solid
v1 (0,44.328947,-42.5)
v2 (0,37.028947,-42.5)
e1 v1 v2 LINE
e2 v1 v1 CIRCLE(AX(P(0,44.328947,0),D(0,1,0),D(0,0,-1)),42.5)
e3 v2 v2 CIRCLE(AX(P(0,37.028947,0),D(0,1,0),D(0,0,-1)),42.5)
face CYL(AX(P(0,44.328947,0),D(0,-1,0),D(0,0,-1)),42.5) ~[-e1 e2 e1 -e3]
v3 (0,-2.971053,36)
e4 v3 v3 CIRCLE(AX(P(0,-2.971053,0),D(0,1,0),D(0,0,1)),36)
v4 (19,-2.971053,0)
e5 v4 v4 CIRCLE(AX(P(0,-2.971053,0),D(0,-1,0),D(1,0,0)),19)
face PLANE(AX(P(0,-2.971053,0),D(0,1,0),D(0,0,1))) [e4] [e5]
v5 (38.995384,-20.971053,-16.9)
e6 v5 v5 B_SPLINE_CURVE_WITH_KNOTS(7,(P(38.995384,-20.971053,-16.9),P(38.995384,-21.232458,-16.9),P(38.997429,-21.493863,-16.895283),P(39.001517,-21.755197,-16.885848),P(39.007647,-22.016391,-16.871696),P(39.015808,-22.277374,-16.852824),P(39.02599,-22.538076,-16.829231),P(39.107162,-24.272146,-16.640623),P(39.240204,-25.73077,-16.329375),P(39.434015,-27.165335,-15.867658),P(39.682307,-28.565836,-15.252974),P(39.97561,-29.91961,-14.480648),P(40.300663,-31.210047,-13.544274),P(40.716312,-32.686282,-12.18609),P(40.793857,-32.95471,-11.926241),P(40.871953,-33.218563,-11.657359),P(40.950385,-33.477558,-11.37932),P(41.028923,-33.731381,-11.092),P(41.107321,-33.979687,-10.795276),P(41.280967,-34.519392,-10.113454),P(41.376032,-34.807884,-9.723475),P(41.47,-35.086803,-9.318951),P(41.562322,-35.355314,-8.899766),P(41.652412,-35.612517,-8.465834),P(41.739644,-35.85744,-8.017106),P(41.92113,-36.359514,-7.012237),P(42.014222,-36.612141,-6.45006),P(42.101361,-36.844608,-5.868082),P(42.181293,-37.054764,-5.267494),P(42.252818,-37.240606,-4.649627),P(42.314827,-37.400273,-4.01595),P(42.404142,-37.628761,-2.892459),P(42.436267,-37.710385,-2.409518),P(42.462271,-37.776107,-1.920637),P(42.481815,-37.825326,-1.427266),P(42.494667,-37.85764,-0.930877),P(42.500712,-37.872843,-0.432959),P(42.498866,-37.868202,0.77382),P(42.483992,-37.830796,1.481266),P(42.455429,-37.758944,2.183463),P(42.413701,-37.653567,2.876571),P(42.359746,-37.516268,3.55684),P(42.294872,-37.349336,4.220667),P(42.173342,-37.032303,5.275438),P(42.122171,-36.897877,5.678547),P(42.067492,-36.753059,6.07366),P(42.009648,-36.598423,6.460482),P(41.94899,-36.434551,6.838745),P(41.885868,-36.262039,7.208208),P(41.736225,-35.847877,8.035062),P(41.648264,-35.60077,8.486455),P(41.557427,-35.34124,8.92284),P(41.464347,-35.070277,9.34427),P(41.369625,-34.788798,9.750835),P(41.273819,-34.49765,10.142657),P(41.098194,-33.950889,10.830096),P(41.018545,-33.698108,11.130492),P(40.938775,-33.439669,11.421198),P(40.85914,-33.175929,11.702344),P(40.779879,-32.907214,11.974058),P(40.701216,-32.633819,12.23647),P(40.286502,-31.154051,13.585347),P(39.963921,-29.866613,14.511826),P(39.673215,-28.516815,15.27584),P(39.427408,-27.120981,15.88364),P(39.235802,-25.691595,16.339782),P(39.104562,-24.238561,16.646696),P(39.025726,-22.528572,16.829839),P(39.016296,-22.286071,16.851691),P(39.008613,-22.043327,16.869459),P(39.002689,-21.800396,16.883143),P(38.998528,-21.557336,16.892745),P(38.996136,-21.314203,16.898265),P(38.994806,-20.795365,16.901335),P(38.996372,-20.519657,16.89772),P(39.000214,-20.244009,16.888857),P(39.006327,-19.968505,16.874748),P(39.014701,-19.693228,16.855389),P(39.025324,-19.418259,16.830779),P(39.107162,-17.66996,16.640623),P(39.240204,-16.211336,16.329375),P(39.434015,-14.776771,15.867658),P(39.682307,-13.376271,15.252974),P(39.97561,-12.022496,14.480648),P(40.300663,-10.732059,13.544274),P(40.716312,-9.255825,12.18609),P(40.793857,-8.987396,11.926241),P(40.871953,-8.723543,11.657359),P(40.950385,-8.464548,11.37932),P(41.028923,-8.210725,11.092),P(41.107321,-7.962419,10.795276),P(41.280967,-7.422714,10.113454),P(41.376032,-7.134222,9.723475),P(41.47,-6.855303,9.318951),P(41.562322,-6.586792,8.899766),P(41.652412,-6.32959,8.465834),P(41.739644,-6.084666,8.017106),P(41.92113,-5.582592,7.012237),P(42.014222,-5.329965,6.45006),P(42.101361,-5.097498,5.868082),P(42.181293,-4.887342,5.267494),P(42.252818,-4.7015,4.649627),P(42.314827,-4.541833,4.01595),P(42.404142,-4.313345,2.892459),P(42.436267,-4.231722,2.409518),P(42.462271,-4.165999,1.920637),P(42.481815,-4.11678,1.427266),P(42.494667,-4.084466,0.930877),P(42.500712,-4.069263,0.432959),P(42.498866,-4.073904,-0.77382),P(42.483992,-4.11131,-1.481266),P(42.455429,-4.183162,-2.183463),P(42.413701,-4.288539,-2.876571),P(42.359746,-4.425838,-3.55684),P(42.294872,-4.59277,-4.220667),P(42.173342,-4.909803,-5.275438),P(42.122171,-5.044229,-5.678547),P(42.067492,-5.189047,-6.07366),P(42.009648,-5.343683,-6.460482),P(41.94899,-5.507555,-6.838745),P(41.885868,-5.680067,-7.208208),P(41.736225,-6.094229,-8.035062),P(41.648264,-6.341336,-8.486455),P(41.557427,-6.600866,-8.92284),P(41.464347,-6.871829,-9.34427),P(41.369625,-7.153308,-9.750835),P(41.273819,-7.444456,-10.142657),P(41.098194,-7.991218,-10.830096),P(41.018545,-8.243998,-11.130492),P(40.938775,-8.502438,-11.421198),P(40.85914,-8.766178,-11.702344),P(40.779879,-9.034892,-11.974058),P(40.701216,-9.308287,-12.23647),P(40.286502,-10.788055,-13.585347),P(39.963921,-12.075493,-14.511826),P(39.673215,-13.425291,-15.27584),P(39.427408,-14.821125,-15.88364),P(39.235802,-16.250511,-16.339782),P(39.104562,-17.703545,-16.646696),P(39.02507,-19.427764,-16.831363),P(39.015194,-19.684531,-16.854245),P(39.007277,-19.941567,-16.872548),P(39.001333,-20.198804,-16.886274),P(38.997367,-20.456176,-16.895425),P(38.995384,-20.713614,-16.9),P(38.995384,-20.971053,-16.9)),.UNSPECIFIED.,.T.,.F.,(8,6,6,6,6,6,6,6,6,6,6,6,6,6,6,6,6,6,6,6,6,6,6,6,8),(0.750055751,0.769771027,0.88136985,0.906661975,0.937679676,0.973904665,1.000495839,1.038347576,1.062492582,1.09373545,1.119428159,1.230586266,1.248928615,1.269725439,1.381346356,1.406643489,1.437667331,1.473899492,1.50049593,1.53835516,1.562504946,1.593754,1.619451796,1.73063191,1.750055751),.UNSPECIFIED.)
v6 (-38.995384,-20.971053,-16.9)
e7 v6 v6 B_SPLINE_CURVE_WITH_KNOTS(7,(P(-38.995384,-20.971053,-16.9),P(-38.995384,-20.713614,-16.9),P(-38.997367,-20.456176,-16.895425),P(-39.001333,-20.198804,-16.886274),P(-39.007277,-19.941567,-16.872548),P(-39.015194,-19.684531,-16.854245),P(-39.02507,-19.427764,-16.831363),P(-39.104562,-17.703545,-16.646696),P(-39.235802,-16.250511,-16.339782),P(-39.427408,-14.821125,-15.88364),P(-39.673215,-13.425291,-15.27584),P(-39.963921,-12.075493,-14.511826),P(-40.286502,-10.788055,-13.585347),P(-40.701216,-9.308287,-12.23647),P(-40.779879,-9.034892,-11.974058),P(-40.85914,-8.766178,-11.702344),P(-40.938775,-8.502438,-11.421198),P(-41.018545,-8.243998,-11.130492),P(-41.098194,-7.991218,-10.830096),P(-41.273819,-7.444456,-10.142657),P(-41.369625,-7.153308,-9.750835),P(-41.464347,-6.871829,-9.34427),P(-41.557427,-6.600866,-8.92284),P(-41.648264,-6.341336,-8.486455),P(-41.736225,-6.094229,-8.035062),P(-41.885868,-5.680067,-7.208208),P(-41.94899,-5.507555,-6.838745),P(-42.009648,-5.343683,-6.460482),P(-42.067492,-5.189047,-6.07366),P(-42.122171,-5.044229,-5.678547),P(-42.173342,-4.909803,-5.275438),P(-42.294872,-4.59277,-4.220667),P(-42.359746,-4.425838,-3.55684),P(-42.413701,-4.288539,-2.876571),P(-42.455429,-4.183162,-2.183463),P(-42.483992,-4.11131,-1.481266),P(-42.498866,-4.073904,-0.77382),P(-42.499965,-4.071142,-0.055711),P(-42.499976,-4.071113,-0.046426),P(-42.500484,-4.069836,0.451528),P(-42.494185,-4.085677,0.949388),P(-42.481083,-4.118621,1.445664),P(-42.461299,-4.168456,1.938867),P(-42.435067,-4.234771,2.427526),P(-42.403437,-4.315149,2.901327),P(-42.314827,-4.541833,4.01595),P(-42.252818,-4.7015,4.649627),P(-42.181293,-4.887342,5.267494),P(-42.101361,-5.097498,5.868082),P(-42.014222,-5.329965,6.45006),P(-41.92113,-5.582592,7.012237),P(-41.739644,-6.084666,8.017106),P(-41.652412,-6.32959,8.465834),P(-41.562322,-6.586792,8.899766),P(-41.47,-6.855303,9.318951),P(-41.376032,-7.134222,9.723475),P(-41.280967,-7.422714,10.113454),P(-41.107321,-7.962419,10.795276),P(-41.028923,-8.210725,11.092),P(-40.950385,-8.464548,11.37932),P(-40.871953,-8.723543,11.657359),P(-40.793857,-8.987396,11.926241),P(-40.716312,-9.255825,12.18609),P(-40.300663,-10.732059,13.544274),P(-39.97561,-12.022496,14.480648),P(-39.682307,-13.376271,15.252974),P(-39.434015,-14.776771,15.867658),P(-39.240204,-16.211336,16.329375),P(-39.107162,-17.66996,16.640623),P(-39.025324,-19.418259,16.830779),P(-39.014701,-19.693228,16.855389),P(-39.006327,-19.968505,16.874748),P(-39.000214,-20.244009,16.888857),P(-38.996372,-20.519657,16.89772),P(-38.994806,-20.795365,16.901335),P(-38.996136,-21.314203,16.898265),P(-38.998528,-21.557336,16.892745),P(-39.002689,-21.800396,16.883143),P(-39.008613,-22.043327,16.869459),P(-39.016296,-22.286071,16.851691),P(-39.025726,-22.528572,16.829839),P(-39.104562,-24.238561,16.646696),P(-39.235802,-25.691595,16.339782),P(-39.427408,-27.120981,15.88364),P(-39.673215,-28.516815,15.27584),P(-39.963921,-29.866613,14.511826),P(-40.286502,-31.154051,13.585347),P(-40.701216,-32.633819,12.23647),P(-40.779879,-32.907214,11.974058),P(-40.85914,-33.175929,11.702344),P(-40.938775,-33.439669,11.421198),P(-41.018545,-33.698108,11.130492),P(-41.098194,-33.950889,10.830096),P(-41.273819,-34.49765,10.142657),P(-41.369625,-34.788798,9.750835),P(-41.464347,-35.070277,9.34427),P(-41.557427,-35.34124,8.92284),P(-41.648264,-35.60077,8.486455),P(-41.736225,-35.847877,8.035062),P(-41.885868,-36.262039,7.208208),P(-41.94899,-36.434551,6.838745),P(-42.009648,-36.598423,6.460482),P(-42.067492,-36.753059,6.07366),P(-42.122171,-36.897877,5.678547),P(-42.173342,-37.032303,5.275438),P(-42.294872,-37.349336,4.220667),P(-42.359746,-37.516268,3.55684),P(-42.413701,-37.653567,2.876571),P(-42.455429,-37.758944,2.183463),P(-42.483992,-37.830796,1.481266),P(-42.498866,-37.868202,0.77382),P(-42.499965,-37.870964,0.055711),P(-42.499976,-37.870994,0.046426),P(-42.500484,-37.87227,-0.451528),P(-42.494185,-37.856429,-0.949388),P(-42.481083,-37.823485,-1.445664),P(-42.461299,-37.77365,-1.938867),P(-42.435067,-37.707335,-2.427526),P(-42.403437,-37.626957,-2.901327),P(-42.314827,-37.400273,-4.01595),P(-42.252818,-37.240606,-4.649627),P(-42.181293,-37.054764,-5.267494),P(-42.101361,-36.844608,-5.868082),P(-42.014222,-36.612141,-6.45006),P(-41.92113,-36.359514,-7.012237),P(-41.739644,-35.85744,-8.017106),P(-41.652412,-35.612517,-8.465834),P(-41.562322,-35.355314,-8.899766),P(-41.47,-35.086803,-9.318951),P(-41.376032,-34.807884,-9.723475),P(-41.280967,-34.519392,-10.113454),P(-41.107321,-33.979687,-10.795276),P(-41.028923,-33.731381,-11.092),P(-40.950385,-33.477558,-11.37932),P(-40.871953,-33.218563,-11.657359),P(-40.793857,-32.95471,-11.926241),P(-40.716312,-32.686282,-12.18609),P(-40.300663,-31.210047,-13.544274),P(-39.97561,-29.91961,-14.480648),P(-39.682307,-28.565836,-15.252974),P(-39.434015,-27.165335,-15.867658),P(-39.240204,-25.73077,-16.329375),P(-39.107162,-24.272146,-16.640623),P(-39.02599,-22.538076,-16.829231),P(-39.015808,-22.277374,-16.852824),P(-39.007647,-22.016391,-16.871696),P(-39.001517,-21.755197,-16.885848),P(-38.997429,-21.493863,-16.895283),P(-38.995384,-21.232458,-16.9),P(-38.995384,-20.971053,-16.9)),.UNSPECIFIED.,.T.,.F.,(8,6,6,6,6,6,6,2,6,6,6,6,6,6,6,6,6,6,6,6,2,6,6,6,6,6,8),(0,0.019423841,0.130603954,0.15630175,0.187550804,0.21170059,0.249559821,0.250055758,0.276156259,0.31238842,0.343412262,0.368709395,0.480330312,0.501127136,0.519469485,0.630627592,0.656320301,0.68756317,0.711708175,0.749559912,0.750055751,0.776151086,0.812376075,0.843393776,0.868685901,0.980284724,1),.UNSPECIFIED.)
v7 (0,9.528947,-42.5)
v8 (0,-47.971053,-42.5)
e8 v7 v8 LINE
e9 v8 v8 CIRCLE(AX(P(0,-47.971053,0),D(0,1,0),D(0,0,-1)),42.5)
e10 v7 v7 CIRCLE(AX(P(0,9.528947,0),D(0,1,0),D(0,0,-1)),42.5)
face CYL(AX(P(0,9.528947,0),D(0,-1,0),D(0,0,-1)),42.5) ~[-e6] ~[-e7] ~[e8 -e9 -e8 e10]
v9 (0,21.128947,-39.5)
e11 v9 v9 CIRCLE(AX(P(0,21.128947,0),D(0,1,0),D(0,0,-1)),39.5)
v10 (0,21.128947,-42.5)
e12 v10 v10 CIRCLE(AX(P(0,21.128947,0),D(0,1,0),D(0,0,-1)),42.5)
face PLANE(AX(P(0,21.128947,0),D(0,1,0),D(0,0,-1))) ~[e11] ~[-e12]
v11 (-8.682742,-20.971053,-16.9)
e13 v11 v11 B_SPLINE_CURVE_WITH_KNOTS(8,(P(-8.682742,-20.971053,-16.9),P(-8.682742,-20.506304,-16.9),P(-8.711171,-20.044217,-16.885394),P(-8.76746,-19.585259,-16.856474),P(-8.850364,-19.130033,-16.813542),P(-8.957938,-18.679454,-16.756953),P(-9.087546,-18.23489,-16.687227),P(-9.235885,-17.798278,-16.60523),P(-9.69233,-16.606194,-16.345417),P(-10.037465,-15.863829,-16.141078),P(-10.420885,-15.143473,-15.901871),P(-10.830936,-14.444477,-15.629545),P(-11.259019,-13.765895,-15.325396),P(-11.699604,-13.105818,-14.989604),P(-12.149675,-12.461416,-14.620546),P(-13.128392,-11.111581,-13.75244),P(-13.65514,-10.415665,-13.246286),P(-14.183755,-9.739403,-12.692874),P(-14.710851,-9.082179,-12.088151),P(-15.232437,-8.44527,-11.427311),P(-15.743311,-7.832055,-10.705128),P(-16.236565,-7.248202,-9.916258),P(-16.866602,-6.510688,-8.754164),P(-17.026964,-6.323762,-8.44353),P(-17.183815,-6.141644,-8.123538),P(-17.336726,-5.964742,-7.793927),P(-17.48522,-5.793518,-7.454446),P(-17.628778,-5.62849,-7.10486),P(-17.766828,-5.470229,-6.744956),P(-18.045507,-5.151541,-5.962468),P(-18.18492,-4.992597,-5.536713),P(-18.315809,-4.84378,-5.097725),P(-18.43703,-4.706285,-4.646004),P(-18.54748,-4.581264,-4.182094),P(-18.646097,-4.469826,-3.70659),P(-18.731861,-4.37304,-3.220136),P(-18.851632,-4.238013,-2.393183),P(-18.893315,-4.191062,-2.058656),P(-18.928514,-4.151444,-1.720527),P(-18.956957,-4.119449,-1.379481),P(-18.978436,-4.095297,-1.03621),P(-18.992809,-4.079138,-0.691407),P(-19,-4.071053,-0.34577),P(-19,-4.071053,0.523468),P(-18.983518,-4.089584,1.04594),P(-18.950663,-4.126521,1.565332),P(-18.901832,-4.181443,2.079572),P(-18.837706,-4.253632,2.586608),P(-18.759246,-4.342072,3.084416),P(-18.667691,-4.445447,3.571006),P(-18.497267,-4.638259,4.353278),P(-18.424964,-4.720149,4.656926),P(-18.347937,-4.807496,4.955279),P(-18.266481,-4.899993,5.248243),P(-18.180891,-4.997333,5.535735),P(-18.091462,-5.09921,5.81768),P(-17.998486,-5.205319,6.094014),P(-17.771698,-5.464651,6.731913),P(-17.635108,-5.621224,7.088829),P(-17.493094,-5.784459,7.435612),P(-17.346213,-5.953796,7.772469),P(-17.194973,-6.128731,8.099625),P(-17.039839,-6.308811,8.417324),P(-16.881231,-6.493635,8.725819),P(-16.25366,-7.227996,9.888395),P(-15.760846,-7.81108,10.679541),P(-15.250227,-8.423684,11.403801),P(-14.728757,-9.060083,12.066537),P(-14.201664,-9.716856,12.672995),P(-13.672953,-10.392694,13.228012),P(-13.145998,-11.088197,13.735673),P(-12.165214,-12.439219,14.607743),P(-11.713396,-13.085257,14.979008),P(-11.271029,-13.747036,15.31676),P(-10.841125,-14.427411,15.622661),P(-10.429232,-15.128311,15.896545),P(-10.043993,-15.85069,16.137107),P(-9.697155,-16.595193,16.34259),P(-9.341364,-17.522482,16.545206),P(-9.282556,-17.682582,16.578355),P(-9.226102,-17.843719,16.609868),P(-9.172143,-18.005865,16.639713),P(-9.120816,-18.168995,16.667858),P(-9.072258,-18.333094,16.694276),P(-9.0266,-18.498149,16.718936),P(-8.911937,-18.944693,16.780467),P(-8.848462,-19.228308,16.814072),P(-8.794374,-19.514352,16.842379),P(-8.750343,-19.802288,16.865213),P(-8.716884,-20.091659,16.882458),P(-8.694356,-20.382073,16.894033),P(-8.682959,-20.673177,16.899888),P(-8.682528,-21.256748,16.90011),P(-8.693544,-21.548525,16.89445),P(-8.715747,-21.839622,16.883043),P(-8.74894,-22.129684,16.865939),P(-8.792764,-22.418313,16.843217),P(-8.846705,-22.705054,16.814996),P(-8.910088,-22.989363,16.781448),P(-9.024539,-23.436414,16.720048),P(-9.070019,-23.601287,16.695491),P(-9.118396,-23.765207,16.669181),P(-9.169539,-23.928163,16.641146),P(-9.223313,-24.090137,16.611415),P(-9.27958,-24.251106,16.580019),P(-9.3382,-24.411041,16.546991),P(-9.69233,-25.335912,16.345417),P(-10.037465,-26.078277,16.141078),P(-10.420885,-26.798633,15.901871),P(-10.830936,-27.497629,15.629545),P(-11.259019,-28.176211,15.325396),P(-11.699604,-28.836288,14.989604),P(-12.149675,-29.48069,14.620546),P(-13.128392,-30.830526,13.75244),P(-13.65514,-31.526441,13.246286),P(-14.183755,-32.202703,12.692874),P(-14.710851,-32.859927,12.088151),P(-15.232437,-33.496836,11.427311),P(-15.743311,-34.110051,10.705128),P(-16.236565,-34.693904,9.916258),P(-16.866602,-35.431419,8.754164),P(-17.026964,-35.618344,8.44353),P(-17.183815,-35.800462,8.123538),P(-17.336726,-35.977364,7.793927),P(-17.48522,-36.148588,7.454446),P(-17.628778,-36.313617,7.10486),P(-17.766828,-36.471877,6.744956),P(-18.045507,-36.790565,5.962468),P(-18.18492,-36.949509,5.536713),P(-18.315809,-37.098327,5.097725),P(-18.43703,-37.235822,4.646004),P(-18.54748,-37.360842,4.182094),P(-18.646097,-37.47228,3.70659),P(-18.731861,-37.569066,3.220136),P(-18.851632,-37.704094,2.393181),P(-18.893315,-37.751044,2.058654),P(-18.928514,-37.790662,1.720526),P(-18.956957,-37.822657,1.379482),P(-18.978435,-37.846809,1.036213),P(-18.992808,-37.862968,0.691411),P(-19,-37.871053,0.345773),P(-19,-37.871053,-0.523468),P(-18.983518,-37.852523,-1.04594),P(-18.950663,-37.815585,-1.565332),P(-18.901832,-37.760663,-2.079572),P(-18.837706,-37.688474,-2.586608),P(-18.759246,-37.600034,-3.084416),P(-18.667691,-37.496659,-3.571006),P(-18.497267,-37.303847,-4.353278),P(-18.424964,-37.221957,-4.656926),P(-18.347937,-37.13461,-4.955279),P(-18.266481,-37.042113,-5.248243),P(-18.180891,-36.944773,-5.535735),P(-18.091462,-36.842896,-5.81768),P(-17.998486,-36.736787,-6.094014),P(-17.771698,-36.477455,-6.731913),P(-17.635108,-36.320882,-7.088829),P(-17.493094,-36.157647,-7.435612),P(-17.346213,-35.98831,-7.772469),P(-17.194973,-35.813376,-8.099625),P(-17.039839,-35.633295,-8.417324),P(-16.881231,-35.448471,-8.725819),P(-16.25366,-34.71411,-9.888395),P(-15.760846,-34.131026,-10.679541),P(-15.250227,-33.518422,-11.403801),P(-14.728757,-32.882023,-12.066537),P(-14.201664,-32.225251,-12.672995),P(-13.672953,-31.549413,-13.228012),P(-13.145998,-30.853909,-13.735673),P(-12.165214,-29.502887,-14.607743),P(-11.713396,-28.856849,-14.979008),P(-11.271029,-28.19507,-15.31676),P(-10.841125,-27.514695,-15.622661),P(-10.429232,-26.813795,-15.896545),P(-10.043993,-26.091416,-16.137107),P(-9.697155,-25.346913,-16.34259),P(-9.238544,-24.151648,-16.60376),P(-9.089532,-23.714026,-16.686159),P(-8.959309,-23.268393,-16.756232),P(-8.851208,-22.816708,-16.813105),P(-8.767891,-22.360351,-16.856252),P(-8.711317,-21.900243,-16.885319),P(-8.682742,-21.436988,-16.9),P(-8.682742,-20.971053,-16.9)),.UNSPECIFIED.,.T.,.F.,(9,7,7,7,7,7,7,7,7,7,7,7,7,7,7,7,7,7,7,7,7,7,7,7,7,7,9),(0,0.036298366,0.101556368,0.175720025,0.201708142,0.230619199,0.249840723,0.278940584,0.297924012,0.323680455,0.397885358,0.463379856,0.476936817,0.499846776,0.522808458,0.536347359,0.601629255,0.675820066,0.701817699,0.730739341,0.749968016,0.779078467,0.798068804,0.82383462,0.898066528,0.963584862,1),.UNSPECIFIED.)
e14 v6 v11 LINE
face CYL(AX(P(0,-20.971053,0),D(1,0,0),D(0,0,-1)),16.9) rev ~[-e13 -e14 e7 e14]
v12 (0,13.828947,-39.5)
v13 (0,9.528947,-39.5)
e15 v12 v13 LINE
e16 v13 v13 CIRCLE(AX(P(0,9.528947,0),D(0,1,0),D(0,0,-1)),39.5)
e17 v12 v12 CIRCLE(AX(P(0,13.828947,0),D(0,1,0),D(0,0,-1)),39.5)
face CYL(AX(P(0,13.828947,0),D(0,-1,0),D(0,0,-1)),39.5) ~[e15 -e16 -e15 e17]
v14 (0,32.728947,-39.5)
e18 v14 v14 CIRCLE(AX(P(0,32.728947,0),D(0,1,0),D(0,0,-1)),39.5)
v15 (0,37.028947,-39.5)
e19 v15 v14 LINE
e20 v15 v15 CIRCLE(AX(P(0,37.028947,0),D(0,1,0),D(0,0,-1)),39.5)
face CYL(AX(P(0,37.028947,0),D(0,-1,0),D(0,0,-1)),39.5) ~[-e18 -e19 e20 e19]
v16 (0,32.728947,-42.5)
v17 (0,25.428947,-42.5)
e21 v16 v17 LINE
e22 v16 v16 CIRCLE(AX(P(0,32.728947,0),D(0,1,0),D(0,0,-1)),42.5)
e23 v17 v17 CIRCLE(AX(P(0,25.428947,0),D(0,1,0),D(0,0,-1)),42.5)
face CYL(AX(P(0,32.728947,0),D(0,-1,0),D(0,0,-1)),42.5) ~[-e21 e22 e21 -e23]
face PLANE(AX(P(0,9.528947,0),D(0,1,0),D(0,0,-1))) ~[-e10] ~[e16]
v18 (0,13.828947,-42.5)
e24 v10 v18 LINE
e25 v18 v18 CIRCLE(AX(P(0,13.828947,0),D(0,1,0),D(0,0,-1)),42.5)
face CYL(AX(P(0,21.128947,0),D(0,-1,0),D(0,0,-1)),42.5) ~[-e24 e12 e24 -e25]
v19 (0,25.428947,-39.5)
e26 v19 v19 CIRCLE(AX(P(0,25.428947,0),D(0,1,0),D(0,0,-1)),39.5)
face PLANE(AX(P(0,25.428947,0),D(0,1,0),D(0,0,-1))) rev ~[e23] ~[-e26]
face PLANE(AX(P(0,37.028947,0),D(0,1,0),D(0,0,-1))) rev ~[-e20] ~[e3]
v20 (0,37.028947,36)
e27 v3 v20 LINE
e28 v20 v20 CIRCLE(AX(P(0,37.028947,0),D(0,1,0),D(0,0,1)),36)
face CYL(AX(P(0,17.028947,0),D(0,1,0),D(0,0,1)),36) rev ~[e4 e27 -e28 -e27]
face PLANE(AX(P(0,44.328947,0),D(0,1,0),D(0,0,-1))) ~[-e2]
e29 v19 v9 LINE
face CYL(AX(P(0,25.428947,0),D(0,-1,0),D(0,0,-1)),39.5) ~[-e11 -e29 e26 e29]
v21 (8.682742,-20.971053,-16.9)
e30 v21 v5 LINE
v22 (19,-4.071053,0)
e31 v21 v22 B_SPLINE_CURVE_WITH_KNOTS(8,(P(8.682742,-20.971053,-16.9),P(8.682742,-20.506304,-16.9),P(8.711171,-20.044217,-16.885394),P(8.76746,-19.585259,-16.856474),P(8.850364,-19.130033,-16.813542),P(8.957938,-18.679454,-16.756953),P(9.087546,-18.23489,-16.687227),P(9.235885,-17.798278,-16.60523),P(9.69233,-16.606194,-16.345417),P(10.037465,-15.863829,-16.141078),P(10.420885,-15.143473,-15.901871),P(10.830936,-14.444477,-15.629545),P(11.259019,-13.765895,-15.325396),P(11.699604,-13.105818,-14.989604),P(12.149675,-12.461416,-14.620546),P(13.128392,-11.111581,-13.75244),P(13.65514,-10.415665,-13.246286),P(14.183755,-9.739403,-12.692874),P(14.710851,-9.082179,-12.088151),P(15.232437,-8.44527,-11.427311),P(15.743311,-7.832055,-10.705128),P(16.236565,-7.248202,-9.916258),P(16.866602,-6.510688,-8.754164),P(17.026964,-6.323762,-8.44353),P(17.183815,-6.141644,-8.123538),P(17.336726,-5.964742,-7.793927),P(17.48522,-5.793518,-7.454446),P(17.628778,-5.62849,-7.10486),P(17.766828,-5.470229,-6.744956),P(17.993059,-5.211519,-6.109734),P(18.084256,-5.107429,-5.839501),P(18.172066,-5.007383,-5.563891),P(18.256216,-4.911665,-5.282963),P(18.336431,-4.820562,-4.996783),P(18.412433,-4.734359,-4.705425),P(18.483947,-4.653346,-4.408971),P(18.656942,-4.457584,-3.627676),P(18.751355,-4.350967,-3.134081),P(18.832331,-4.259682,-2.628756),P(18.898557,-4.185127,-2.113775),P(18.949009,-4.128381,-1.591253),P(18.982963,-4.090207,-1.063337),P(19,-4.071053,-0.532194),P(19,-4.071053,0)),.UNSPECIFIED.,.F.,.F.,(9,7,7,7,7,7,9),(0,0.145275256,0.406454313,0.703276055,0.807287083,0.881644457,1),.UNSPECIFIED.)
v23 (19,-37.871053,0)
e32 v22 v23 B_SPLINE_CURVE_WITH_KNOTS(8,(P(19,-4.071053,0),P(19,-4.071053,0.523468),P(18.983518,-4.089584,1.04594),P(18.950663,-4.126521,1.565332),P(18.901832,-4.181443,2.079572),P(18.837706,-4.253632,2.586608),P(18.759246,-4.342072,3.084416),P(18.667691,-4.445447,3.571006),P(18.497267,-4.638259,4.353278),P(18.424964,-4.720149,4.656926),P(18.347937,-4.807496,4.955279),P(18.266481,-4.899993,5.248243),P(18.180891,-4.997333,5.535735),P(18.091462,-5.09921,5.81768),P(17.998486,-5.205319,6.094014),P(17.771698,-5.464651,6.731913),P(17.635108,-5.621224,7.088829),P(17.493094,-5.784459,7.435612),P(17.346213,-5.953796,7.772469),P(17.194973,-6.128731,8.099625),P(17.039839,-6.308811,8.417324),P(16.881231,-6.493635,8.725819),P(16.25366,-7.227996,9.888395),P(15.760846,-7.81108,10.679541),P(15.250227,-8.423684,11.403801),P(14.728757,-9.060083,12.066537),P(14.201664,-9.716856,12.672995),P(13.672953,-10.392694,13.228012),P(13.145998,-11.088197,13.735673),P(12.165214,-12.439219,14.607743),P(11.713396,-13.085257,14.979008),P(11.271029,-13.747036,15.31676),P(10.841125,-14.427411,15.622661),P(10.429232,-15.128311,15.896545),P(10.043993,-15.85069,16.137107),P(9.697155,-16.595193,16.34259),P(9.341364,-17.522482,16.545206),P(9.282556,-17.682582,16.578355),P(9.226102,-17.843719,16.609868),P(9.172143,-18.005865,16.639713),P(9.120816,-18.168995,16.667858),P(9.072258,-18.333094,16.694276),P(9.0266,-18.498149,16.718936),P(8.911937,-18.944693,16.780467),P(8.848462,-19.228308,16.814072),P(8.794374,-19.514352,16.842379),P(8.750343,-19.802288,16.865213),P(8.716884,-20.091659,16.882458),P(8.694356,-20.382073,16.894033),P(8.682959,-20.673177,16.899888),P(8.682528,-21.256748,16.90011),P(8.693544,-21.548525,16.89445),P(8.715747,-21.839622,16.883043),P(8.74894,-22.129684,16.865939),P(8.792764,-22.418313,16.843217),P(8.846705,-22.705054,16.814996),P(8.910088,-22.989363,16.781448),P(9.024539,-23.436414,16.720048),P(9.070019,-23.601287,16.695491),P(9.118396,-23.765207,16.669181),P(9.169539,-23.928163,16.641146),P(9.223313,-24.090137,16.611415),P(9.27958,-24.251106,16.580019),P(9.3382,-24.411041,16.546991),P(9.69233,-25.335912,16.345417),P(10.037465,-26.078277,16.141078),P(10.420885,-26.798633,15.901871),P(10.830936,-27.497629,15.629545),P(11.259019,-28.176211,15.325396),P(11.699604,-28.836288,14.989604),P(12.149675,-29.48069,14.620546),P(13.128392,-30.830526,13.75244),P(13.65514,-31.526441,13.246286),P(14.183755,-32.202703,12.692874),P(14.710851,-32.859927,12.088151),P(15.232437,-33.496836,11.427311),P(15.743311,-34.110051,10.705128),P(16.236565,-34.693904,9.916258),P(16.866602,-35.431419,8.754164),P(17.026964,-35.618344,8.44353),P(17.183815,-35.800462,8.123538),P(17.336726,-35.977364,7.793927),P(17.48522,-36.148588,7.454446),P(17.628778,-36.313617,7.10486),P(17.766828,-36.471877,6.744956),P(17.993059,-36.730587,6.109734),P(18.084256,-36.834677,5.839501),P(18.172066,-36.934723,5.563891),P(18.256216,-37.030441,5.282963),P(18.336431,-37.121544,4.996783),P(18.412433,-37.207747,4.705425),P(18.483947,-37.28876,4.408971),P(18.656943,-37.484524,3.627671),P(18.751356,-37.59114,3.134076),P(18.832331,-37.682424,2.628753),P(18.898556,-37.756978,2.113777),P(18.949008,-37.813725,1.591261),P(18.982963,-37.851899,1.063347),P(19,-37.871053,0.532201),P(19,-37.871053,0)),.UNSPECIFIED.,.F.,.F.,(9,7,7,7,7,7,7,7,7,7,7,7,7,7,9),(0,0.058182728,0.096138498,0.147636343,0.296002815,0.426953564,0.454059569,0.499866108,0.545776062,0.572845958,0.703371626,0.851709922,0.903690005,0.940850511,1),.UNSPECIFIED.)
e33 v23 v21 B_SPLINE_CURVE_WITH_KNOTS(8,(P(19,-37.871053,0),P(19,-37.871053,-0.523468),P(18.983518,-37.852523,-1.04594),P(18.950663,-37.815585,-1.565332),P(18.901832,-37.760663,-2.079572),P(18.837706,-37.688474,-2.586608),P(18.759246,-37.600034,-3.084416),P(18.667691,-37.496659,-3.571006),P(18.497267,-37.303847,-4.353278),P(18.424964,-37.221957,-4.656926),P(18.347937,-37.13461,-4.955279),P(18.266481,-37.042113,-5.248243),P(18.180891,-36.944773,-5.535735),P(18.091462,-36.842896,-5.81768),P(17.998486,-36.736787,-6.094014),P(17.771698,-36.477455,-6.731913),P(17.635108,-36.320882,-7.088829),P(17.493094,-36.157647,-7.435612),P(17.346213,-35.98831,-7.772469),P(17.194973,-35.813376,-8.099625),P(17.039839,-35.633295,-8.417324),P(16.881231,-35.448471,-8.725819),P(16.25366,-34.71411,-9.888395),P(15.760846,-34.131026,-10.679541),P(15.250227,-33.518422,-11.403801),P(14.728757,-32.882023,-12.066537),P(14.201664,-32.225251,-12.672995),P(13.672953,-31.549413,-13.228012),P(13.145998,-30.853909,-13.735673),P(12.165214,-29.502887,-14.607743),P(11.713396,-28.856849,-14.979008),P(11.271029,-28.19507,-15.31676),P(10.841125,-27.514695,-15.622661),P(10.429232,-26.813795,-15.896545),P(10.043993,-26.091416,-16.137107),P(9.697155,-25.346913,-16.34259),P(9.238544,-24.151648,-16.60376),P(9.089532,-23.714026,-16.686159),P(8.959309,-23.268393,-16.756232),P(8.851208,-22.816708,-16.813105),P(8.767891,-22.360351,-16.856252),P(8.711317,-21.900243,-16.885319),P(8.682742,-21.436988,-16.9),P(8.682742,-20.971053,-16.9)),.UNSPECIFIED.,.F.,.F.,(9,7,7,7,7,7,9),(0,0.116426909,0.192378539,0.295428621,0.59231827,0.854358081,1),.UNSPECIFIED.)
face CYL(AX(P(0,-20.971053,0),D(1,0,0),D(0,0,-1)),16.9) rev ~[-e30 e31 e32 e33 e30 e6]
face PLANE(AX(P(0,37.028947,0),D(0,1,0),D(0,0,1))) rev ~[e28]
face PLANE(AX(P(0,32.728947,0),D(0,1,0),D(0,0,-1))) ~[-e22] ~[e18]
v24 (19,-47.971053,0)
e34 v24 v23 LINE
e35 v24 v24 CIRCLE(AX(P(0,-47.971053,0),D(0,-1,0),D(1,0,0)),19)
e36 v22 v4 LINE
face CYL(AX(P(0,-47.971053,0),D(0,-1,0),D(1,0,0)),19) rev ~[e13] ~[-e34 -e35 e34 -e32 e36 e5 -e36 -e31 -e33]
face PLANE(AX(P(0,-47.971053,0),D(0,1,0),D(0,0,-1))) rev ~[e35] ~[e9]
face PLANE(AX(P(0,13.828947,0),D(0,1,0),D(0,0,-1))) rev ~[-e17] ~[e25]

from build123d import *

# Parameters (mm, degrees)
SKETCH4_R          = 16.9
CUT_EXTRUDE1_DEPTH = 42.5
SKETCH5_W          = 36
SKETCH5_H          = 40
SKETCH6_R          = 19
CUT_EXTRUDE2_DEPTH = 45


with BuildPart() as part:
    # Sketch2 → Revolve1 (revolve)
    with BuildSketch(Plane(origin=(0, 0, 0), x_dir=(0, 0, -1), z_dir=(1, 0, 0))):
        Polygon((39.5, 25.428946917), (39.5, 21.128946917), (42.5, 21.128946917), (42.5, 13.828946917), (39.5, 13.828946917), (39.5, 9.528946917), (42.5, 9.528946917), (42.5, -47.971053083), (0, -47.971053083), (0, 44.328946917), (42.5, 44.328946917), (42.5, 37.028946917), (39.5, 37.028946917), (39.5, 32.728946917), (42.5, 32.728946917), (42.5, 25.428946917), align=None)
    revolve(axis=Axis((0, -52.221053083, 0), (0, 1, 0)))

    # Sketch4 → Cut-Extrude1 (cut, symmetric)
    with BuildSketch(Plane(origin=(0, 0, 0), x_dir=(0, 0, -1), z_dir=(1, 0, 0))):
        with Locations((0, -20.971053083)):
            Circle(SKETCH4_R)
    extrude(amount=CUT_EXTRUDE1_DEPTH, both=True, mode=Mode.SUBTRACT)

    # Sketch5 → Cut-Revolve1 (revolve, cut)
    with BuildSketch(Plane(origin=(0, 0, 0), x_dir=(0, 0, -1), z_dir=(1, 0, 0))):
        with Locations((-18, 17.028946917)):
            Rectangle(SKETCH5_W, SKETCH5_H)
    revolve(axis=Axis((0, -52.221053083, 0), (0, 1, 0)), mode=Mode.SUBTRACT)

    # Sketch6 → Cut-Extrude2 (cut)
    with BuildSketch(Plane.XZ.offset(47.971053083)):
        Circle(SKETCH6_R)
    extrude(amount=-CUT_EXTRUDE2_DEPTH, mode=Mode.SUBTRACT)


solid = part.part
